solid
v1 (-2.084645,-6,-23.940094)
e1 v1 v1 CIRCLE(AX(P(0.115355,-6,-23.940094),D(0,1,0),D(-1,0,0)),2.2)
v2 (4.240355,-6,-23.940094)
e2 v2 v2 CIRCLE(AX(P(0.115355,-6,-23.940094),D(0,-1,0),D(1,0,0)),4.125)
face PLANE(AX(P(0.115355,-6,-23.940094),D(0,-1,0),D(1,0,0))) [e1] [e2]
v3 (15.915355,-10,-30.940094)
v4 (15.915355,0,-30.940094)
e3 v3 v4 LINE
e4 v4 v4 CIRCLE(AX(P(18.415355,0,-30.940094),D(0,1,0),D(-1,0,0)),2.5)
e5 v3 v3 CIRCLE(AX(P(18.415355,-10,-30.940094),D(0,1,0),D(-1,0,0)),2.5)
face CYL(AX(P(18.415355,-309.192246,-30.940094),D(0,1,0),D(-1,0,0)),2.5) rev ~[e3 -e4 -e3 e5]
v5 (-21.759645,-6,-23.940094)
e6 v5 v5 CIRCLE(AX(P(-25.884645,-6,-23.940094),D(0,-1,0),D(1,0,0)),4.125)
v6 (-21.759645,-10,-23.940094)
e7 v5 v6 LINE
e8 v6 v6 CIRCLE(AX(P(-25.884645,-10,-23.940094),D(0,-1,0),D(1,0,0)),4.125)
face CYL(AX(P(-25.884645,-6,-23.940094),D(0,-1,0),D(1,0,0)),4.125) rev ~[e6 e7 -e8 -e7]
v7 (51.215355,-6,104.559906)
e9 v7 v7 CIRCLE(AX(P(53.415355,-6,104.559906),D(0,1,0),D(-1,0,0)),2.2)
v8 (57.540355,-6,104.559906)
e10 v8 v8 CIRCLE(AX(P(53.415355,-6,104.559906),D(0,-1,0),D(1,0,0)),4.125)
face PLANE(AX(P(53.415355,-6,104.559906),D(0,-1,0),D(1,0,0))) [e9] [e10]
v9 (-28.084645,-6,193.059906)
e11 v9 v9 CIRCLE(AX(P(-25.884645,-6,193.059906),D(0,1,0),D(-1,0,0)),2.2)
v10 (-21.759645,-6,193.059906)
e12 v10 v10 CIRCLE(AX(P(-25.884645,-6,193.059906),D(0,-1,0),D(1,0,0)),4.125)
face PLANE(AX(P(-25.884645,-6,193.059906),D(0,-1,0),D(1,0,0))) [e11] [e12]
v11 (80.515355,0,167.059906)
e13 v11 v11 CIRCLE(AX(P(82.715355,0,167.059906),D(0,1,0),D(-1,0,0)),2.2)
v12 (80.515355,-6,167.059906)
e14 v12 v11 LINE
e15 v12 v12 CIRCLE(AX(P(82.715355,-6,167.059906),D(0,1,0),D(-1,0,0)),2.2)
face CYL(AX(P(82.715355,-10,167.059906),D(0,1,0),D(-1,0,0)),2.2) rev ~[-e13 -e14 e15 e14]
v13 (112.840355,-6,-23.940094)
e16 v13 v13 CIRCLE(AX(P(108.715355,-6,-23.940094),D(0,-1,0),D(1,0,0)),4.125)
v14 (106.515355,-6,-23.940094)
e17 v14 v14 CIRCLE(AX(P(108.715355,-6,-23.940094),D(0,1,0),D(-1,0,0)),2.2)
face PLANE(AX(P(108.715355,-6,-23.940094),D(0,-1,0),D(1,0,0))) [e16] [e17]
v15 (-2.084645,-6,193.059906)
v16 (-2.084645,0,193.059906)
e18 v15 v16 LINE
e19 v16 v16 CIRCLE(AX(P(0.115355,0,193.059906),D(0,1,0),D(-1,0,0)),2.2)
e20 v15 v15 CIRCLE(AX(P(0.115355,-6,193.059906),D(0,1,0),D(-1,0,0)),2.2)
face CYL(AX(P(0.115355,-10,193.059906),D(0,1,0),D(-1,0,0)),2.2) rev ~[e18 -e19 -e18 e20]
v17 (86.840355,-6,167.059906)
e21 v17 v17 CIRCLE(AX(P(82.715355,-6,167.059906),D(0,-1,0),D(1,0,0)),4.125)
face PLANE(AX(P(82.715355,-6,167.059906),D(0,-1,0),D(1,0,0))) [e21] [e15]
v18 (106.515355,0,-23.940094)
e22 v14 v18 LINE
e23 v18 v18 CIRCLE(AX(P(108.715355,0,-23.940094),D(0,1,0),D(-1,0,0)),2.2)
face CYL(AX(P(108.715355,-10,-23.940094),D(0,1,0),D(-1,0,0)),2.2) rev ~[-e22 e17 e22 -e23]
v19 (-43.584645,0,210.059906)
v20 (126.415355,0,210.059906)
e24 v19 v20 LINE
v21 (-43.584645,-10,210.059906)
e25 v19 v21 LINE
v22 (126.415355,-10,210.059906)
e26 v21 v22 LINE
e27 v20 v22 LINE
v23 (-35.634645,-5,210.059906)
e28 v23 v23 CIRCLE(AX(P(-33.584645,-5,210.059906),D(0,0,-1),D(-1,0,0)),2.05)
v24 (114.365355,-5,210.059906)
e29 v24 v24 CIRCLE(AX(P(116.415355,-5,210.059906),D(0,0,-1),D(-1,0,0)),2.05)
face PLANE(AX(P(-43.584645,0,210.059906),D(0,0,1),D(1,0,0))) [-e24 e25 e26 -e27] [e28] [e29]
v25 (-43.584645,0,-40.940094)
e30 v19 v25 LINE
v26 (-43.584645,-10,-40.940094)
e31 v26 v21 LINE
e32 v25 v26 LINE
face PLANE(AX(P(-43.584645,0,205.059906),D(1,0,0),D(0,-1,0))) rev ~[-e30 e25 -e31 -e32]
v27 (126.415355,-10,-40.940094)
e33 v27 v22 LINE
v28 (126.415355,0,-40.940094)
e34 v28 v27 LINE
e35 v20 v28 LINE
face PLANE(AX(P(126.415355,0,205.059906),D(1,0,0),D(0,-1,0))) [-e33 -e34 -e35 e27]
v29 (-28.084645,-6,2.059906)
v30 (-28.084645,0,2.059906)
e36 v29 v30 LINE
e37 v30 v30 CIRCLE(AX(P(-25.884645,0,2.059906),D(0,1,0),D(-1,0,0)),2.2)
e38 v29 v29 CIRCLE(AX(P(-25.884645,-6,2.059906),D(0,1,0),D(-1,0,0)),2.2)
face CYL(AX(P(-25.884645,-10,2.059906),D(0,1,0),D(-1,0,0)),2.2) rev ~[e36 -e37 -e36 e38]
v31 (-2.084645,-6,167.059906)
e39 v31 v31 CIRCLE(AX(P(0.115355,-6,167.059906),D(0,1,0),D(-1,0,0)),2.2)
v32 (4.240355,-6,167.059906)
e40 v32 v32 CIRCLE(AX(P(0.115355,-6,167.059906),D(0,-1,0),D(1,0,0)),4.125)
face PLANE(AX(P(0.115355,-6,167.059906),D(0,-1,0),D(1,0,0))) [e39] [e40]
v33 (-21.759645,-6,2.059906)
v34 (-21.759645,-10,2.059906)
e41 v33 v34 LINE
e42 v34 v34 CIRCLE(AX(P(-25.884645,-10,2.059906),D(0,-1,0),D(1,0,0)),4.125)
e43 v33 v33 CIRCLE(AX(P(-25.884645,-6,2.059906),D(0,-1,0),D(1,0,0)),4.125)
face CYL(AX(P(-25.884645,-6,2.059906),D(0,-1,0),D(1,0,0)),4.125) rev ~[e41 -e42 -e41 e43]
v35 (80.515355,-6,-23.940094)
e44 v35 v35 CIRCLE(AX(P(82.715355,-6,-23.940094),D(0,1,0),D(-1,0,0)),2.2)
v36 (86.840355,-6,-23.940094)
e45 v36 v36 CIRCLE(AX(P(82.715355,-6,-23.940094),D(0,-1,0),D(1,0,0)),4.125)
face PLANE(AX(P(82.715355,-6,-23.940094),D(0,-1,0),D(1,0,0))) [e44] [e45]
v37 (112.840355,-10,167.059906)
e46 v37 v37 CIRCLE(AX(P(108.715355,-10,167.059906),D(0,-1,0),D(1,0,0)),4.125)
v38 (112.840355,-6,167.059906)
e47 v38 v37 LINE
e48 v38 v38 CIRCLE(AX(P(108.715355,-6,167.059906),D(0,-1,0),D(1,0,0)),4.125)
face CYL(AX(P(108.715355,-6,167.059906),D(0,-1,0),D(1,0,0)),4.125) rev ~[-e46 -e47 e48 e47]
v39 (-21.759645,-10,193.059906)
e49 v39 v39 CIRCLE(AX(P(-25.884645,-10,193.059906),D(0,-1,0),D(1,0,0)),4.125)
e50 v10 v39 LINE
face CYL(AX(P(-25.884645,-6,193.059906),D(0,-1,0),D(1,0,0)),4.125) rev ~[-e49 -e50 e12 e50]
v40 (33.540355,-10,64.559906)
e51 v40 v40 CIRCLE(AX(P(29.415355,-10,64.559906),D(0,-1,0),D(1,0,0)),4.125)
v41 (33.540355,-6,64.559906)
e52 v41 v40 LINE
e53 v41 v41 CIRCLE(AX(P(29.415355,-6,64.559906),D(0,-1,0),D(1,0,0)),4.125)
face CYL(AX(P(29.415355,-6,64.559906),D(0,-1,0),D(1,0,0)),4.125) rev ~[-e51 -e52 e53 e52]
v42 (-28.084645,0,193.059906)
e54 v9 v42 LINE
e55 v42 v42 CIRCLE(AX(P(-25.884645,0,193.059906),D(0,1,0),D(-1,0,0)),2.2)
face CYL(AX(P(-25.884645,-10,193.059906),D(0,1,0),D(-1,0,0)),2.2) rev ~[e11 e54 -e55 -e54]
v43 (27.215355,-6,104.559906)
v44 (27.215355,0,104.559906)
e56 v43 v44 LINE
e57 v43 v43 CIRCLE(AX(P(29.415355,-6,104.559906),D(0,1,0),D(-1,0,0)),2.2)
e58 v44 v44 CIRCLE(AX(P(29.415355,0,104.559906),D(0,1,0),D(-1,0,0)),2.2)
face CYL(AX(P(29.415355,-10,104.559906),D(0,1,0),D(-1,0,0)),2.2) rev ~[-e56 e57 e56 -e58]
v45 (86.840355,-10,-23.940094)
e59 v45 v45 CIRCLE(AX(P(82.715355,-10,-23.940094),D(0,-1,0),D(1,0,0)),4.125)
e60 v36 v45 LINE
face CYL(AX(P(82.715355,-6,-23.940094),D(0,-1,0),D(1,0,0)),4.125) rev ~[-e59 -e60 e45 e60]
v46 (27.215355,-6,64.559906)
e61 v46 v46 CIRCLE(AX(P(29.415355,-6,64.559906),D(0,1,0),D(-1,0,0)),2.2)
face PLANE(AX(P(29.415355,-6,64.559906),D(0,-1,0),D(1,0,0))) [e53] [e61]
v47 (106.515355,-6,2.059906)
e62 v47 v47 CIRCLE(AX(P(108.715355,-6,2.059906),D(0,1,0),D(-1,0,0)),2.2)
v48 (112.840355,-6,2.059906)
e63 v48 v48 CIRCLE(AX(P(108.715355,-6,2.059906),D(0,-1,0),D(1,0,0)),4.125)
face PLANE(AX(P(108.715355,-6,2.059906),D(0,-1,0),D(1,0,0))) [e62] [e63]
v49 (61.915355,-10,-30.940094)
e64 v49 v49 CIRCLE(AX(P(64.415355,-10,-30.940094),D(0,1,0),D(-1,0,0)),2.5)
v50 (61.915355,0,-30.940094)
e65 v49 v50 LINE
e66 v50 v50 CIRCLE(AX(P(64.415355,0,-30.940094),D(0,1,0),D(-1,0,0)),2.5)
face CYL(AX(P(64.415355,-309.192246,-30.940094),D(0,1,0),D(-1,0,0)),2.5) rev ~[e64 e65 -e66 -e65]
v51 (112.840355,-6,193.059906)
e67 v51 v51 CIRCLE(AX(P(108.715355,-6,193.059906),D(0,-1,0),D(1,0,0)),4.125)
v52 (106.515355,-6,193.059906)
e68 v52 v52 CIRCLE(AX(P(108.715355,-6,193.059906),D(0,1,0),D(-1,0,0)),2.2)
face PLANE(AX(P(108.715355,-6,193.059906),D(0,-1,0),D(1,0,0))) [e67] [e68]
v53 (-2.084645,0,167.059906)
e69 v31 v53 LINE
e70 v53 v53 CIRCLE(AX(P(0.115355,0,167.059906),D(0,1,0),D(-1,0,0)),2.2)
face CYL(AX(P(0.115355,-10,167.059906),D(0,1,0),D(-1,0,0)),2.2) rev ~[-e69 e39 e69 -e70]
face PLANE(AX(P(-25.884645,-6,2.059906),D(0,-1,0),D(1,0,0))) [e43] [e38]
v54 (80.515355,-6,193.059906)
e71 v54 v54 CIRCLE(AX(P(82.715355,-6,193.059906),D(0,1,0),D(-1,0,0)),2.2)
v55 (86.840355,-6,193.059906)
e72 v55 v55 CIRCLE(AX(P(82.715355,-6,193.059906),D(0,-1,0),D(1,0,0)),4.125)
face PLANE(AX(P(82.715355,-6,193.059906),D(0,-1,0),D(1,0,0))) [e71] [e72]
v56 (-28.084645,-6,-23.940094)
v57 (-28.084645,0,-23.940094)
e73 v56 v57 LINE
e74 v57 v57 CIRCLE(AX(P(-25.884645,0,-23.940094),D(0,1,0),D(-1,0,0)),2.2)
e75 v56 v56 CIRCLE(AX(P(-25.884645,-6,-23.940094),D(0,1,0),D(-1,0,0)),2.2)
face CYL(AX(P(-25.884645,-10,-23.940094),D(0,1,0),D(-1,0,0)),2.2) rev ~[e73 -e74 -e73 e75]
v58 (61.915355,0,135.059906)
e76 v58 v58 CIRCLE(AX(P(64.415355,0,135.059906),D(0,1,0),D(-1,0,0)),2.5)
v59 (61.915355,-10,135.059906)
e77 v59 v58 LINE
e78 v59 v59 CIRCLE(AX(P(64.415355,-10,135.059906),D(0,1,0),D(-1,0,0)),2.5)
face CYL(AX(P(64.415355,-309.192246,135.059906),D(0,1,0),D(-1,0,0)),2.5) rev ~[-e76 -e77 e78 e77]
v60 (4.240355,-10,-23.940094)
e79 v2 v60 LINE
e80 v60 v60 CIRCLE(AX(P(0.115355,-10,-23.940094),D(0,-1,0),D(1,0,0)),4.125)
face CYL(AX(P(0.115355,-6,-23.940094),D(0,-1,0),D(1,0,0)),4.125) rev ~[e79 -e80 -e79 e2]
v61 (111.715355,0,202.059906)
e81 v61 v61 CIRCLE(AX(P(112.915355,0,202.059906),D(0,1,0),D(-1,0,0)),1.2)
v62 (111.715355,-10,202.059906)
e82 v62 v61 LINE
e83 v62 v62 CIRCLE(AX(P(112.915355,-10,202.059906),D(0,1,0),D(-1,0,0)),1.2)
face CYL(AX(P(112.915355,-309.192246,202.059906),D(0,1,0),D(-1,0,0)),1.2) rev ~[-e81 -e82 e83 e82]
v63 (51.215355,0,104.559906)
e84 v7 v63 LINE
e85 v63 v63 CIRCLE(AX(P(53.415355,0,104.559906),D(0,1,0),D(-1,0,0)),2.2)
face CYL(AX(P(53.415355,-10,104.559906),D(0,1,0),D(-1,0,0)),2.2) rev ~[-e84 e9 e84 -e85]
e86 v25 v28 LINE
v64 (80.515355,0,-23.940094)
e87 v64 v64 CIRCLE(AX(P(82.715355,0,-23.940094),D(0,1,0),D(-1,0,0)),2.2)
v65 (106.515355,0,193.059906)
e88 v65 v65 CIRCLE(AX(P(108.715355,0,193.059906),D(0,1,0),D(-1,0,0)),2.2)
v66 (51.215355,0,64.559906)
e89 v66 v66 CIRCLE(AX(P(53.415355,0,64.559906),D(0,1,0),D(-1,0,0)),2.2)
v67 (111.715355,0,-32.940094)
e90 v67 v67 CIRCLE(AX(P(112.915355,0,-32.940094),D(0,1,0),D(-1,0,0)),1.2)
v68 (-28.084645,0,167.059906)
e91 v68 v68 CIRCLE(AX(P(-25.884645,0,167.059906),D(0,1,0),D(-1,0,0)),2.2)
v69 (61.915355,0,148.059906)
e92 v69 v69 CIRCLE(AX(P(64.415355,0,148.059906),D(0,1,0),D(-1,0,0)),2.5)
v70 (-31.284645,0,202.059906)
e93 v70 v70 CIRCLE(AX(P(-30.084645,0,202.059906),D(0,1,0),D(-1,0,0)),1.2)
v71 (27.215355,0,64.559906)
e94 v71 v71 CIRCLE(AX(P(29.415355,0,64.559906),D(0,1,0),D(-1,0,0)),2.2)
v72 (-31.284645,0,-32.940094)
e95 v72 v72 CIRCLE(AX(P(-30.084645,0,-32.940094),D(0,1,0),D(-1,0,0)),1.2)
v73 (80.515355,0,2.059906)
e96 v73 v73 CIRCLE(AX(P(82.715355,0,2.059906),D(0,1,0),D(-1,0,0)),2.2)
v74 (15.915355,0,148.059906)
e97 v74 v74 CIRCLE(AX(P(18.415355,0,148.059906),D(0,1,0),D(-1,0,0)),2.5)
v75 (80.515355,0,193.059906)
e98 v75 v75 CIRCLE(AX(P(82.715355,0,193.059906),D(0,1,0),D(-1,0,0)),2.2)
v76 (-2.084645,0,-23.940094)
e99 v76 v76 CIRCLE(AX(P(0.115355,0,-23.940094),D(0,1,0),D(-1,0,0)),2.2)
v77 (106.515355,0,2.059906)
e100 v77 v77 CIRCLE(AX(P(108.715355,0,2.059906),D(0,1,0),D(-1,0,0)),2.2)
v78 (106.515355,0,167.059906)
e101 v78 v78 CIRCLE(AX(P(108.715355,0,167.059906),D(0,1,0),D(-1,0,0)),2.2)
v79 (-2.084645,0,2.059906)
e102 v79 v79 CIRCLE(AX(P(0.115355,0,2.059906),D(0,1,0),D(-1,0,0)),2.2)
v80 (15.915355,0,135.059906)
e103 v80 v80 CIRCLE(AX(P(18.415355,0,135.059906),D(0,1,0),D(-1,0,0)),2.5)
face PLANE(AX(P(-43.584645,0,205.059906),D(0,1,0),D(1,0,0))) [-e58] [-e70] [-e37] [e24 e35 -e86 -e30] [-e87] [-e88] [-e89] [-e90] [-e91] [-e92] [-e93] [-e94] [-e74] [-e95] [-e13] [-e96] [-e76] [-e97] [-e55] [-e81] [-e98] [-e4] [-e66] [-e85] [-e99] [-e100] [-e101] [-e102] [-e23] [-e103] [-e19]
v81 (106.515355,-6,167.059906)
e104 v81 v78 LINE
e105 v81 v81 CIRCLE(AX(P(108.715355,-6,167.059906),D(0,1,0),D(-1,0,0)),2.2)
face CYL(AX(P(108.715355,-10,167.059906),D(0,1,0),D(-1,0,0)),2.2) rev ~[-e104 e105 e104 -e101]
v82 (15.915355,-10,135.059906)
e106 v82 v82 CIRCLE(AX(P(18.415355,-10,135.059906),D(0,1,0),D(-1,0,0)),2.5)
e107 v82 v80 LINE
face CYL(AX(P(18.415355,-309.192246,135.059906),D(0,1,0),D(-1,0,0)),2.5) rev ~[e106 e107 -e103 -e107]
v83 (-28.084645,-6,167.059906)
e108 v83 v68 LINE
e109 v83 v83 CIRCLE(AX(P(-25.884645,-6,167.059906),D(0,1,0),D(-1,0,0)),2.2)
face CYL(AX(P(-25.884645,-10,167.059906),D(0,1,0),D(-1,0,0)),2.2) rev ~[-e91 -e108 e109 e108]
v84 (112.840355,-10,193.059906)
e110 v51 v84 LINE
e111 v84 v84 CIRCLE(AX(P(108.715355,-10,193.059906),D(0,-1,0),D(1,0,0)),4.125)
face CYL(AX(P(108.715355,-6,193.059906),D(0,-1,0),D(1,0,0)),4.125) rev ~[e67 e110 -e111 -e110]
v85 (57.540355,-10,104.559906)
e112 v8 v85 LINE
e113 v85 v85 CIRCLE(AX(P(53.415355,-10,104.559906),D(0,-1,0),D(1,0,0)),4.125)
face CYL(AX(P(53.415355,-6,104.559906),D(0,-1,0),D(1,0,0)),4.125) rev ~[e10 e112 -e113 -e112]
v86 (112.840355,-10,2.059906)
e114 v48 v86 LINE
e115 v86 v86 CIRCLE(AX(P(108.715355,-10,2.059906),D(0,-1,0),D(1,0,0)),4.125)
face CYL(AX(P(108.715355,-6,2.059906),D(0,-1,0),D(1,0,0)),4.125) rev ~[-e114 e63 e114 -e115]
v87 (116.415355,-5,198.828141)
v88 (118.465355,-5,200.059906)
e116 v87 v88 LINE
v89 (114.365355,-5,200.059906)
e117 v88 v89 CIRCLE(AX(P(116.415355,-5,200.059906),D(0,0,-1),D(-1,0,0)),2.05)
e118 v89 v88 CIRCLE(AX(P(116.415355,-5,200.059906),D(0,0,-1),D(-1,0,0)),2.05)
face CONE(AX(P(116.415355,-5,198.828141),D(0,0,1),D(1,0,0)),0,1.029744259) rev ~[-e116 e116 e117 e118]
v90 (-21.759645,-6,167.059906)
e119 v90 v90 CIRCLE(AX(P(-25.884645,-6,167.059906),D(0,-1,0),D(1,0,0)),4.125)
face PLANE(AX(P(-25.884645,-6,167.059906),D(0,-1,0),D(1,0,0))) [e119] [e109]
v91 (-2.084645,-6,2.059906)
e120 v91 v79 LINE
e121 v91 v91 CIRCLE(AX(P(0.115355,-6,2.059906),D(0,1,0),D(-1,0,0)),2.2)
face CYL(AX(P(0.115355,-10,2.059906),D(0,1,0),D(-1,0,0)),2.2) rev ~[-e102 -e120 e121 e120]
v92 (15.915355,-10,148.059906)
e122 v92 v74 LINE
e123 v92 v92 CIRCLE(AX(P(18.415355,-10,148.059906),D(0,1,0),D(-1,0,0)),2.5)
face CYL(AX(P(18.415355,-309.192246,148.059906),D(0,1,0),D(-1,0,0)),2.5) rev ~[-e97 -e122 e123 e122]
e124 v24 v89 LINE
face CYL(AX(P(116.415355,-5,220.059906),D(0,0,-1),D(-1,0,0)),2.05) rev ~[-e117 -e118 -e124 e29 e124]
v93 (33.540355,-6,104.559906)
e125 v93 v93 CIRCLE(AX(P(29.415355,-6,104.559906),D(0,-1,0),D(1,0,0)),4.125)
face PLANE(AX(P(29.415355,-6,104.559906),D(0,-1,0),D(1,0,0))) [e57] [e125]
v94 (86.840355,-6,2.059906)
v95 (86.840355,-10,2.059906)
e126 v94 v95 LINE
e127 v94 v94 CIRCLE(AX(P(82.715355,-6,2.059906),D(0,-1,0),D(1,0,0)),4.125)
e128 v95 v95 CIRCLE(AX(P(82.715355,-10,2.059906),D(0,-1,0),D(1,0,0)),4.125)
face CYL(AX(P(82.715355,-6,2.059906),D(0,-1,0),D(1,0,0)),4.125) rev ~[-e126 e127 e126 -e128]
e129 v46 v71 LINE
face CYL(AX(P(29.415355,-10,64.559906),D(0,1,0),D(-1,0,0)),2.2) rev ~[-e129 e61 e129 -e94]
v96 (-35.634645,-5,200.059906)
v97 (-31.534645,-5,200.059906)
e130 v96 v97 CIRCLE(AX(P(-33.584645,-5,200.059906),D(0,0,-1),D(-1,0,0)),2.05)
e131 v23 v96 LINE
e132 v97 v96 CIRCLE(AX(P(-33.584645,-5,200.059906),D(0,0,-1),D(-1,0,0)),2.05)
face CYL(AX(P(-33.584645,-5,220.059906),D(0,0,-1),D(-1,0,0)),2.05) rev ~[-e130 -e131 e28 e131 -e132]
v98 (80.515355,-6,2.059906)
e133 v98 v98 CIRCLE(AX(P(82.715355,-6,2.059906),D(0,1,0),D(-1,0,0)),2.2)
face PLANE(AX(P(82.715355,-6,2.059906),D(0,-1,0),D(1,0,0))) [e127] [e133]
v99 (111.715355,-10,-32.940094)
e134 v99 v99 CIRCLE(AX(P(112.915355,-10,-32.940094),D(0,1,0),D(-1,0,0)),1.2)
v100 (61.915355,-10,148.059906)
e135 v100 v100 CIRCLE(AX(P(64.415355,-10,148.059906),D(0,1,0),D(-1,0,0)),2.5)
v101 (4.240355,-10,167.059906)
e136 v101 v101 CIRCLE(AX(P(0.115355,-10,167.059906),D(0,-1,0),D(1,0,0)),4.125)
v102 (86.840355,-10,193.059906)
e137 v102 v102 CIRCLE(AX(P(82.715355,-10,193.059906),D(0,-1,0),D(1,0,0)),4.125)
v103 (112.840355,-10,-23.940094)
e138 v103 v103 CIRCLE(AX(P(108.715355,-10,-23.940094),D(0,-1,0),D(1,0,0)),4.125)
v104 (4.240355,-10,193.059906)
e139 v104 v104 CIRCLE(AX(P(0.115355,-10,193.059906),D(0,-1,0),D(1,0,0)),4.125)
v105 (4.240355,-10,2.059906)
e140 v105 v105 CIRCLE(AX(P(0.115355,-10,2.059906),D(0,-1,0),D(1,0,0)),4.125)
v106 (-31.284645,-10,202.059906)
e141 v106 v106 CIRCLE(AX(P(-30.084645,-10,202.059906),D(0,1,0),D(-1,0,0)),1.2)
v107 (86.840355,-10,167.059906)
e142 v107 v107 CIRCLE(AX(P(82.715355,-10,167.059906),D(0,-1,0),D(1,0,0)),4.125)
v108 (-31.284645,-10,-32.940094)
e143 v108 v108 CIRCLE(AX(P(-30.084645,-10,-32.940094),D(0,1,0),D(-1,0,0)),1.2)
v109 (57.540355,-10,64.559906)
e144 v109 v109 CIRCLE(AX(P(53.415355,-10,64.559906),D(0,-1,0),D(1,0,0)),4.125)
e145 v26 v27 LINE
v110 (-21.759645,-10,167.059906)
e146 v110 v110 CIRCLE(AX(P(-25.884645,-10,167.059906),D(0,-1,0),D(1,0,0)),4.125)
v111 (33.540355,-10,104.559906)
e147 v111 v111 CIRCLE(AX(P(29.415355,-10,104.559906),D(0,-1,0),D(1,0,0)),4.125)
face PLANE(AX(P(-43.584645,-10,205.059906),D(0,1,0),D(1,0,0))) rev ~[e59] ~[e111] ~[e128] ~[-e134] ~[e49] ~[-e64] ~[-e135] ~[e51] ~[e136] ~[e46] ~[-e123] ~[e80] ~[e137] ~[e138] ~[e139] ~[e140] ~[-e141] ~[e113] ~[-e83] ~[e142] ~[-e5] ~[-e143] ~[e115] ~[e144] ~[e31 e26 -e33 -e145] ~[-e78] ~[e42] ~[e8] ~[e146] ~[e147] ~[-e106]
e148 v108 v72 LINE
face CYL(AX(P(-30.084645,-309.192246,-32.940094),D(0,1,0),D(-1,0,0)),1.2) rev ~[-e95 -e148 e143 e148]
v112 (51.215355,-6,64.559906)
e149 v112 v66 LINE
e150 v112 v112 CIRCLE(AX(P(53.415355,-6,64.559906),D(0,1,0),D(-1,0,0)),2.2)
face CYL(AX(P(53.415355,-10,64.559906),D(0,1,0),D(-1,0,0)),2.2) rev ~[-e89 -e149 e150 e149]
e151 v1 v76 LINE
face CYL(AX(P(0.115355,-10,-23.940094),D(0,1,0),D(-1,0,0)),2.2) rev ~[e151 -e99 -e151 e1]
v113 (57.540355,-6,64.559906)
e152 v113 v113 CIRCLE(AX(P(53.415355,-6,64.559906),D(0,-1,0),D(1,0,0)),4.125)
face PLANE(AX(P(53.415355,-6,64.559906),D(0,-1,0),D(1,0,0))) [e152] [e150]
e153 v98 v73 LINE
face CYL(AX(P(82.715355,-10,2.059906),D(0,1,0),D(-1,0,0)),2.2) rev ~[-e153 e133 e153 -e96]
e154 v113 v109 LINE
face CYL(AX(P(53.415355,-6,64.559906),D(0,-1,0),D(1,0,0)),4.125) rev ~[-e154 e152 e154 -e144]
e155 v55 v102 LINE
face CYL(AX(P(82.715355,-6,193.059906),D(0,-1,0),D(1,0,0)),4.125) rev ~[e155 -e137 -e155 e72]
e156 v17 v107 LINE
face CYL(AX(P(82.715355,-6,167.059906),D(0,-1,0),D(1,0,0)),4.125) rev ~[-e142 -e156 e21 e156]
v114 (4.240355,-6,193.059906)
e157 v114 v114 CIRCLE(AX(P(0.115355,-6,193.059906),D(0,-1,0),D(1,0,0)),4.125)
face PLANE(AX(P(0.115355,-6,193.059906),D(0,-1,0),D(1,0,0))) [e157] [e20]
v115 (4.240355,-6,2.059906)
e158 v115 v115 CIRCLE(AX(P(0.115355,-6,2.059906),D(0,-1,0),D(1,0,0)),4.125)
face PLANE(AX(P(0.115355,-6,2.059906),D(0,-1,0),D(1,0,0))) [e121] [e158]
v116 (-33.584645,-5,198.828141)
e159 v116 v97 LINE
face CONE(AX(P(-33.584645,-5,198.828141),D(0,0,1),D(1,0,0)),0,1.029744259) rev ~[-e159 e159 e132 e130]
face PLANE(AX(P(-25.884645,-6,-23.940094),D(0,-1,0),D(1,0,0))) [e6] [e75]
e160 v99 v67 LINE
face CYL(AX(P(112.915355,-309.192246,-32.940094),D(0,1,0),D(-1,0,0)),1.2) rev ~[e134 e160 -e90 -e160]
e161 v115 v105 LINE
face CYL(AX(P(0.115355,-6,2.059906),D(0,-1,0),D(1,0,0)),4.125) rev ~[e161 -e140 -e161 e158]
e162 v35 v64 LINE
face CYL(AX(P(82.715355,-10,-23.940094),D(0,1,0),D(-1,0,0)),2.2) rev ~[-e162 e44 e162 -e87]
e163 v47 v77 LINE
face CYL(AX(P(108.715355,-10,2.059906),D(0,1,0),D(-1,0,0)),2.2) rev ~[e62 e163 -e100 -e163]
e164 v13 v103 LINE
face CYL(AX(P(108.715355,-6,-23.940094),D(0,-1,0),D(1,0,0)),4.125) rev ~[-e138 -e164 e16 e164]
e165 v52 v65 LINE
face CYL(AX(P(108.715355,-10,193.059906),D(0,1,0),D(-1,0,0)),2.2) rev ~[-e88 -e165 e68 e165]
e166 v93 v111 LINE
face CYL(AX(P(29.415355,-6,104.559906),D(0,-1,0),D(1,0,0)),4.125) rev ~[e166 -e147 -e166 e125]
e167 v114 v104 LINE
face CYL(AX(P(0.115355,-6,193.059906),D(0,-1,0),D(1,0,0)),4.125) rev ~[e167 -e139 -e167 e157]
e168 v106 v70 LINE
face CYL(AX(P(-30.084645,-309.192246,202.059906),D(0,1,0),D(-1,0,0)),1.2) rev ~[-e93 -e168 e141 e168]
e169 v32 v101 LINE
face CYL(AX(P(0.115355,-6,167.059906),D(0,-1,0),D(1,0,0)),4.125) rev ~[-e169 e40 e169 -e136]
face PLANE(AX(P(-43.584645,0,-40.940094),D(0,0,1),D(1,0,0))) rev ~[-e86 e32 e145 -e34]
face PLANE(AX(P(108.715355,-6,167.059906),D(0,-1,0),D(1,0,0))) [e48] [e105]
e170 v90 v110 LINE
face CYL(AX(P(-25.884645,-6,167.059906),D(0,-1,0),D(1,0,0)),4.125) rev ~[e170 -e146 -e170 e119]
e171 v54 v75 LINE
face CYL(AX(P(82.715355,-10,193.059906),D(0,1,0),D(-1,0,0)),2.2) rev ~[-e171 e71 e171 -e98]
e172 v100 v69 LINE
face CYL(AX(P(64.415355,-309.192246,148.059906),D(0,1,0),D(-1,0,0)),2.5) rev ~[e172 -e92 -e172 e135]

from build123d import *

# Parameters (mm, degrees)
F0_W           = 170
F0_H           = 246
F1_DEPTH       = 10
F3_D           = 2.4
F4_D           = 5
F5_DEPTH       = 5
F6_D           = 4.4
F6_CBORE_D     = 8.25
F6_CBORE_DEPTH = 4
F8_D           = 4.1
F8_DEPTH       = 10
F8_TIP         = 1.231764269
F9_D           = 4.4
F9_CBORE_D     = 8.25
F9_CBORE_DEPTH = 4


with BuildPart() as f1:
    # F0 (on Front) → F1 (new body)
    with BuildSketch(Plane.XZ):
        with Locations((41.415355131, 82.0599055054)):
            Rectangle(F0_W, F0_H)
    extrude(amount=F1_DEPTH)

    # F3 (through all)
    with Locations(Plane.XZ.offset(10)):
        with Locations((112.915355131, 202.0599055054), (-30.084644869, 202.0599055054), (-30.084644869, -32.9400944946), (112.915355131, -32.9400944946)):
            Hole(F3_D / 2)

    # F4 (through all)
    with Locations(Plane.XZ.offset(10)):
        with Locations((18.415355131, 148.0599055054), (64.415355131, 148.0599055054), (64.415355131, 135.0599055054), (18.415355131, 135.0599055054), (18.415355131, -30.9400944946), (64.415355131, -30.9400944946)):
            Hole(F4_D / 2)

    # F5 (add): a face of the model
    f5_faces = [f1.faces().sort_by_distance(p)[0] for p in [
        (41.415355131, -5, 205.0599055054),
    ]]
    extrude(f5_faces, amount=F5_DEPTH)

    # F6 (through all)
    with Locations(Plane.XZ.offset(10)):
        with Locations((-25.884644869, -23.9400944946), (-25.884644869, 2.0599055054), (0.115355131, 2.0599055054), (0.115355131, -23.9400944946), (82.715355131, -23.9400944946), (82.715355131, 2.0599055054), (108.715355131, 2.0599055054), (108.715355131, -23.9400944946), (-25.884644869, 193.0599055054), (-25.884644869, 167.0599055054), (0.115355131, 167.0599055054), (0.115355131, 193.0599055054), (82.715355131, 193.0599055054), (108.715355131, 193.0599055054), (108.715355131, 167.0599055054), (82.715355131, 167.0599055054)):
            CounterBoreHole(F6_D / 2, F6_CBORE_D / 2, F6_CBORE_DEPTH)

    # F8
    with Locations(Plane.XY.offset(210.0599055054)):
        with Locations((-33.584644869, -5), (116.415355131, -5)):
            Hole(F8_D / 2, depth=F8_DEPTH)
            with Locations((0, 0, -(F8_DEPTH + F8_TIP / 2))):  # 118° drill point
                Cone(0, F8_D / 2, F8_TIP, mode=Mode.SUBTRACT)

    # F9 (through all)
    with Locations(Plane.XZ.offset(10)):
        with Locations((29.415355131, 104.5599055054), (53.415355131, 104.5599055054), (53.415355131, 64.5599055054), (29.415355131, 64.5599055054)):
            CounterBoreHole(F9_D / 2, F9_CBORE_D / 2, F9_CBORE_DEPTH)


solid = f1.part
